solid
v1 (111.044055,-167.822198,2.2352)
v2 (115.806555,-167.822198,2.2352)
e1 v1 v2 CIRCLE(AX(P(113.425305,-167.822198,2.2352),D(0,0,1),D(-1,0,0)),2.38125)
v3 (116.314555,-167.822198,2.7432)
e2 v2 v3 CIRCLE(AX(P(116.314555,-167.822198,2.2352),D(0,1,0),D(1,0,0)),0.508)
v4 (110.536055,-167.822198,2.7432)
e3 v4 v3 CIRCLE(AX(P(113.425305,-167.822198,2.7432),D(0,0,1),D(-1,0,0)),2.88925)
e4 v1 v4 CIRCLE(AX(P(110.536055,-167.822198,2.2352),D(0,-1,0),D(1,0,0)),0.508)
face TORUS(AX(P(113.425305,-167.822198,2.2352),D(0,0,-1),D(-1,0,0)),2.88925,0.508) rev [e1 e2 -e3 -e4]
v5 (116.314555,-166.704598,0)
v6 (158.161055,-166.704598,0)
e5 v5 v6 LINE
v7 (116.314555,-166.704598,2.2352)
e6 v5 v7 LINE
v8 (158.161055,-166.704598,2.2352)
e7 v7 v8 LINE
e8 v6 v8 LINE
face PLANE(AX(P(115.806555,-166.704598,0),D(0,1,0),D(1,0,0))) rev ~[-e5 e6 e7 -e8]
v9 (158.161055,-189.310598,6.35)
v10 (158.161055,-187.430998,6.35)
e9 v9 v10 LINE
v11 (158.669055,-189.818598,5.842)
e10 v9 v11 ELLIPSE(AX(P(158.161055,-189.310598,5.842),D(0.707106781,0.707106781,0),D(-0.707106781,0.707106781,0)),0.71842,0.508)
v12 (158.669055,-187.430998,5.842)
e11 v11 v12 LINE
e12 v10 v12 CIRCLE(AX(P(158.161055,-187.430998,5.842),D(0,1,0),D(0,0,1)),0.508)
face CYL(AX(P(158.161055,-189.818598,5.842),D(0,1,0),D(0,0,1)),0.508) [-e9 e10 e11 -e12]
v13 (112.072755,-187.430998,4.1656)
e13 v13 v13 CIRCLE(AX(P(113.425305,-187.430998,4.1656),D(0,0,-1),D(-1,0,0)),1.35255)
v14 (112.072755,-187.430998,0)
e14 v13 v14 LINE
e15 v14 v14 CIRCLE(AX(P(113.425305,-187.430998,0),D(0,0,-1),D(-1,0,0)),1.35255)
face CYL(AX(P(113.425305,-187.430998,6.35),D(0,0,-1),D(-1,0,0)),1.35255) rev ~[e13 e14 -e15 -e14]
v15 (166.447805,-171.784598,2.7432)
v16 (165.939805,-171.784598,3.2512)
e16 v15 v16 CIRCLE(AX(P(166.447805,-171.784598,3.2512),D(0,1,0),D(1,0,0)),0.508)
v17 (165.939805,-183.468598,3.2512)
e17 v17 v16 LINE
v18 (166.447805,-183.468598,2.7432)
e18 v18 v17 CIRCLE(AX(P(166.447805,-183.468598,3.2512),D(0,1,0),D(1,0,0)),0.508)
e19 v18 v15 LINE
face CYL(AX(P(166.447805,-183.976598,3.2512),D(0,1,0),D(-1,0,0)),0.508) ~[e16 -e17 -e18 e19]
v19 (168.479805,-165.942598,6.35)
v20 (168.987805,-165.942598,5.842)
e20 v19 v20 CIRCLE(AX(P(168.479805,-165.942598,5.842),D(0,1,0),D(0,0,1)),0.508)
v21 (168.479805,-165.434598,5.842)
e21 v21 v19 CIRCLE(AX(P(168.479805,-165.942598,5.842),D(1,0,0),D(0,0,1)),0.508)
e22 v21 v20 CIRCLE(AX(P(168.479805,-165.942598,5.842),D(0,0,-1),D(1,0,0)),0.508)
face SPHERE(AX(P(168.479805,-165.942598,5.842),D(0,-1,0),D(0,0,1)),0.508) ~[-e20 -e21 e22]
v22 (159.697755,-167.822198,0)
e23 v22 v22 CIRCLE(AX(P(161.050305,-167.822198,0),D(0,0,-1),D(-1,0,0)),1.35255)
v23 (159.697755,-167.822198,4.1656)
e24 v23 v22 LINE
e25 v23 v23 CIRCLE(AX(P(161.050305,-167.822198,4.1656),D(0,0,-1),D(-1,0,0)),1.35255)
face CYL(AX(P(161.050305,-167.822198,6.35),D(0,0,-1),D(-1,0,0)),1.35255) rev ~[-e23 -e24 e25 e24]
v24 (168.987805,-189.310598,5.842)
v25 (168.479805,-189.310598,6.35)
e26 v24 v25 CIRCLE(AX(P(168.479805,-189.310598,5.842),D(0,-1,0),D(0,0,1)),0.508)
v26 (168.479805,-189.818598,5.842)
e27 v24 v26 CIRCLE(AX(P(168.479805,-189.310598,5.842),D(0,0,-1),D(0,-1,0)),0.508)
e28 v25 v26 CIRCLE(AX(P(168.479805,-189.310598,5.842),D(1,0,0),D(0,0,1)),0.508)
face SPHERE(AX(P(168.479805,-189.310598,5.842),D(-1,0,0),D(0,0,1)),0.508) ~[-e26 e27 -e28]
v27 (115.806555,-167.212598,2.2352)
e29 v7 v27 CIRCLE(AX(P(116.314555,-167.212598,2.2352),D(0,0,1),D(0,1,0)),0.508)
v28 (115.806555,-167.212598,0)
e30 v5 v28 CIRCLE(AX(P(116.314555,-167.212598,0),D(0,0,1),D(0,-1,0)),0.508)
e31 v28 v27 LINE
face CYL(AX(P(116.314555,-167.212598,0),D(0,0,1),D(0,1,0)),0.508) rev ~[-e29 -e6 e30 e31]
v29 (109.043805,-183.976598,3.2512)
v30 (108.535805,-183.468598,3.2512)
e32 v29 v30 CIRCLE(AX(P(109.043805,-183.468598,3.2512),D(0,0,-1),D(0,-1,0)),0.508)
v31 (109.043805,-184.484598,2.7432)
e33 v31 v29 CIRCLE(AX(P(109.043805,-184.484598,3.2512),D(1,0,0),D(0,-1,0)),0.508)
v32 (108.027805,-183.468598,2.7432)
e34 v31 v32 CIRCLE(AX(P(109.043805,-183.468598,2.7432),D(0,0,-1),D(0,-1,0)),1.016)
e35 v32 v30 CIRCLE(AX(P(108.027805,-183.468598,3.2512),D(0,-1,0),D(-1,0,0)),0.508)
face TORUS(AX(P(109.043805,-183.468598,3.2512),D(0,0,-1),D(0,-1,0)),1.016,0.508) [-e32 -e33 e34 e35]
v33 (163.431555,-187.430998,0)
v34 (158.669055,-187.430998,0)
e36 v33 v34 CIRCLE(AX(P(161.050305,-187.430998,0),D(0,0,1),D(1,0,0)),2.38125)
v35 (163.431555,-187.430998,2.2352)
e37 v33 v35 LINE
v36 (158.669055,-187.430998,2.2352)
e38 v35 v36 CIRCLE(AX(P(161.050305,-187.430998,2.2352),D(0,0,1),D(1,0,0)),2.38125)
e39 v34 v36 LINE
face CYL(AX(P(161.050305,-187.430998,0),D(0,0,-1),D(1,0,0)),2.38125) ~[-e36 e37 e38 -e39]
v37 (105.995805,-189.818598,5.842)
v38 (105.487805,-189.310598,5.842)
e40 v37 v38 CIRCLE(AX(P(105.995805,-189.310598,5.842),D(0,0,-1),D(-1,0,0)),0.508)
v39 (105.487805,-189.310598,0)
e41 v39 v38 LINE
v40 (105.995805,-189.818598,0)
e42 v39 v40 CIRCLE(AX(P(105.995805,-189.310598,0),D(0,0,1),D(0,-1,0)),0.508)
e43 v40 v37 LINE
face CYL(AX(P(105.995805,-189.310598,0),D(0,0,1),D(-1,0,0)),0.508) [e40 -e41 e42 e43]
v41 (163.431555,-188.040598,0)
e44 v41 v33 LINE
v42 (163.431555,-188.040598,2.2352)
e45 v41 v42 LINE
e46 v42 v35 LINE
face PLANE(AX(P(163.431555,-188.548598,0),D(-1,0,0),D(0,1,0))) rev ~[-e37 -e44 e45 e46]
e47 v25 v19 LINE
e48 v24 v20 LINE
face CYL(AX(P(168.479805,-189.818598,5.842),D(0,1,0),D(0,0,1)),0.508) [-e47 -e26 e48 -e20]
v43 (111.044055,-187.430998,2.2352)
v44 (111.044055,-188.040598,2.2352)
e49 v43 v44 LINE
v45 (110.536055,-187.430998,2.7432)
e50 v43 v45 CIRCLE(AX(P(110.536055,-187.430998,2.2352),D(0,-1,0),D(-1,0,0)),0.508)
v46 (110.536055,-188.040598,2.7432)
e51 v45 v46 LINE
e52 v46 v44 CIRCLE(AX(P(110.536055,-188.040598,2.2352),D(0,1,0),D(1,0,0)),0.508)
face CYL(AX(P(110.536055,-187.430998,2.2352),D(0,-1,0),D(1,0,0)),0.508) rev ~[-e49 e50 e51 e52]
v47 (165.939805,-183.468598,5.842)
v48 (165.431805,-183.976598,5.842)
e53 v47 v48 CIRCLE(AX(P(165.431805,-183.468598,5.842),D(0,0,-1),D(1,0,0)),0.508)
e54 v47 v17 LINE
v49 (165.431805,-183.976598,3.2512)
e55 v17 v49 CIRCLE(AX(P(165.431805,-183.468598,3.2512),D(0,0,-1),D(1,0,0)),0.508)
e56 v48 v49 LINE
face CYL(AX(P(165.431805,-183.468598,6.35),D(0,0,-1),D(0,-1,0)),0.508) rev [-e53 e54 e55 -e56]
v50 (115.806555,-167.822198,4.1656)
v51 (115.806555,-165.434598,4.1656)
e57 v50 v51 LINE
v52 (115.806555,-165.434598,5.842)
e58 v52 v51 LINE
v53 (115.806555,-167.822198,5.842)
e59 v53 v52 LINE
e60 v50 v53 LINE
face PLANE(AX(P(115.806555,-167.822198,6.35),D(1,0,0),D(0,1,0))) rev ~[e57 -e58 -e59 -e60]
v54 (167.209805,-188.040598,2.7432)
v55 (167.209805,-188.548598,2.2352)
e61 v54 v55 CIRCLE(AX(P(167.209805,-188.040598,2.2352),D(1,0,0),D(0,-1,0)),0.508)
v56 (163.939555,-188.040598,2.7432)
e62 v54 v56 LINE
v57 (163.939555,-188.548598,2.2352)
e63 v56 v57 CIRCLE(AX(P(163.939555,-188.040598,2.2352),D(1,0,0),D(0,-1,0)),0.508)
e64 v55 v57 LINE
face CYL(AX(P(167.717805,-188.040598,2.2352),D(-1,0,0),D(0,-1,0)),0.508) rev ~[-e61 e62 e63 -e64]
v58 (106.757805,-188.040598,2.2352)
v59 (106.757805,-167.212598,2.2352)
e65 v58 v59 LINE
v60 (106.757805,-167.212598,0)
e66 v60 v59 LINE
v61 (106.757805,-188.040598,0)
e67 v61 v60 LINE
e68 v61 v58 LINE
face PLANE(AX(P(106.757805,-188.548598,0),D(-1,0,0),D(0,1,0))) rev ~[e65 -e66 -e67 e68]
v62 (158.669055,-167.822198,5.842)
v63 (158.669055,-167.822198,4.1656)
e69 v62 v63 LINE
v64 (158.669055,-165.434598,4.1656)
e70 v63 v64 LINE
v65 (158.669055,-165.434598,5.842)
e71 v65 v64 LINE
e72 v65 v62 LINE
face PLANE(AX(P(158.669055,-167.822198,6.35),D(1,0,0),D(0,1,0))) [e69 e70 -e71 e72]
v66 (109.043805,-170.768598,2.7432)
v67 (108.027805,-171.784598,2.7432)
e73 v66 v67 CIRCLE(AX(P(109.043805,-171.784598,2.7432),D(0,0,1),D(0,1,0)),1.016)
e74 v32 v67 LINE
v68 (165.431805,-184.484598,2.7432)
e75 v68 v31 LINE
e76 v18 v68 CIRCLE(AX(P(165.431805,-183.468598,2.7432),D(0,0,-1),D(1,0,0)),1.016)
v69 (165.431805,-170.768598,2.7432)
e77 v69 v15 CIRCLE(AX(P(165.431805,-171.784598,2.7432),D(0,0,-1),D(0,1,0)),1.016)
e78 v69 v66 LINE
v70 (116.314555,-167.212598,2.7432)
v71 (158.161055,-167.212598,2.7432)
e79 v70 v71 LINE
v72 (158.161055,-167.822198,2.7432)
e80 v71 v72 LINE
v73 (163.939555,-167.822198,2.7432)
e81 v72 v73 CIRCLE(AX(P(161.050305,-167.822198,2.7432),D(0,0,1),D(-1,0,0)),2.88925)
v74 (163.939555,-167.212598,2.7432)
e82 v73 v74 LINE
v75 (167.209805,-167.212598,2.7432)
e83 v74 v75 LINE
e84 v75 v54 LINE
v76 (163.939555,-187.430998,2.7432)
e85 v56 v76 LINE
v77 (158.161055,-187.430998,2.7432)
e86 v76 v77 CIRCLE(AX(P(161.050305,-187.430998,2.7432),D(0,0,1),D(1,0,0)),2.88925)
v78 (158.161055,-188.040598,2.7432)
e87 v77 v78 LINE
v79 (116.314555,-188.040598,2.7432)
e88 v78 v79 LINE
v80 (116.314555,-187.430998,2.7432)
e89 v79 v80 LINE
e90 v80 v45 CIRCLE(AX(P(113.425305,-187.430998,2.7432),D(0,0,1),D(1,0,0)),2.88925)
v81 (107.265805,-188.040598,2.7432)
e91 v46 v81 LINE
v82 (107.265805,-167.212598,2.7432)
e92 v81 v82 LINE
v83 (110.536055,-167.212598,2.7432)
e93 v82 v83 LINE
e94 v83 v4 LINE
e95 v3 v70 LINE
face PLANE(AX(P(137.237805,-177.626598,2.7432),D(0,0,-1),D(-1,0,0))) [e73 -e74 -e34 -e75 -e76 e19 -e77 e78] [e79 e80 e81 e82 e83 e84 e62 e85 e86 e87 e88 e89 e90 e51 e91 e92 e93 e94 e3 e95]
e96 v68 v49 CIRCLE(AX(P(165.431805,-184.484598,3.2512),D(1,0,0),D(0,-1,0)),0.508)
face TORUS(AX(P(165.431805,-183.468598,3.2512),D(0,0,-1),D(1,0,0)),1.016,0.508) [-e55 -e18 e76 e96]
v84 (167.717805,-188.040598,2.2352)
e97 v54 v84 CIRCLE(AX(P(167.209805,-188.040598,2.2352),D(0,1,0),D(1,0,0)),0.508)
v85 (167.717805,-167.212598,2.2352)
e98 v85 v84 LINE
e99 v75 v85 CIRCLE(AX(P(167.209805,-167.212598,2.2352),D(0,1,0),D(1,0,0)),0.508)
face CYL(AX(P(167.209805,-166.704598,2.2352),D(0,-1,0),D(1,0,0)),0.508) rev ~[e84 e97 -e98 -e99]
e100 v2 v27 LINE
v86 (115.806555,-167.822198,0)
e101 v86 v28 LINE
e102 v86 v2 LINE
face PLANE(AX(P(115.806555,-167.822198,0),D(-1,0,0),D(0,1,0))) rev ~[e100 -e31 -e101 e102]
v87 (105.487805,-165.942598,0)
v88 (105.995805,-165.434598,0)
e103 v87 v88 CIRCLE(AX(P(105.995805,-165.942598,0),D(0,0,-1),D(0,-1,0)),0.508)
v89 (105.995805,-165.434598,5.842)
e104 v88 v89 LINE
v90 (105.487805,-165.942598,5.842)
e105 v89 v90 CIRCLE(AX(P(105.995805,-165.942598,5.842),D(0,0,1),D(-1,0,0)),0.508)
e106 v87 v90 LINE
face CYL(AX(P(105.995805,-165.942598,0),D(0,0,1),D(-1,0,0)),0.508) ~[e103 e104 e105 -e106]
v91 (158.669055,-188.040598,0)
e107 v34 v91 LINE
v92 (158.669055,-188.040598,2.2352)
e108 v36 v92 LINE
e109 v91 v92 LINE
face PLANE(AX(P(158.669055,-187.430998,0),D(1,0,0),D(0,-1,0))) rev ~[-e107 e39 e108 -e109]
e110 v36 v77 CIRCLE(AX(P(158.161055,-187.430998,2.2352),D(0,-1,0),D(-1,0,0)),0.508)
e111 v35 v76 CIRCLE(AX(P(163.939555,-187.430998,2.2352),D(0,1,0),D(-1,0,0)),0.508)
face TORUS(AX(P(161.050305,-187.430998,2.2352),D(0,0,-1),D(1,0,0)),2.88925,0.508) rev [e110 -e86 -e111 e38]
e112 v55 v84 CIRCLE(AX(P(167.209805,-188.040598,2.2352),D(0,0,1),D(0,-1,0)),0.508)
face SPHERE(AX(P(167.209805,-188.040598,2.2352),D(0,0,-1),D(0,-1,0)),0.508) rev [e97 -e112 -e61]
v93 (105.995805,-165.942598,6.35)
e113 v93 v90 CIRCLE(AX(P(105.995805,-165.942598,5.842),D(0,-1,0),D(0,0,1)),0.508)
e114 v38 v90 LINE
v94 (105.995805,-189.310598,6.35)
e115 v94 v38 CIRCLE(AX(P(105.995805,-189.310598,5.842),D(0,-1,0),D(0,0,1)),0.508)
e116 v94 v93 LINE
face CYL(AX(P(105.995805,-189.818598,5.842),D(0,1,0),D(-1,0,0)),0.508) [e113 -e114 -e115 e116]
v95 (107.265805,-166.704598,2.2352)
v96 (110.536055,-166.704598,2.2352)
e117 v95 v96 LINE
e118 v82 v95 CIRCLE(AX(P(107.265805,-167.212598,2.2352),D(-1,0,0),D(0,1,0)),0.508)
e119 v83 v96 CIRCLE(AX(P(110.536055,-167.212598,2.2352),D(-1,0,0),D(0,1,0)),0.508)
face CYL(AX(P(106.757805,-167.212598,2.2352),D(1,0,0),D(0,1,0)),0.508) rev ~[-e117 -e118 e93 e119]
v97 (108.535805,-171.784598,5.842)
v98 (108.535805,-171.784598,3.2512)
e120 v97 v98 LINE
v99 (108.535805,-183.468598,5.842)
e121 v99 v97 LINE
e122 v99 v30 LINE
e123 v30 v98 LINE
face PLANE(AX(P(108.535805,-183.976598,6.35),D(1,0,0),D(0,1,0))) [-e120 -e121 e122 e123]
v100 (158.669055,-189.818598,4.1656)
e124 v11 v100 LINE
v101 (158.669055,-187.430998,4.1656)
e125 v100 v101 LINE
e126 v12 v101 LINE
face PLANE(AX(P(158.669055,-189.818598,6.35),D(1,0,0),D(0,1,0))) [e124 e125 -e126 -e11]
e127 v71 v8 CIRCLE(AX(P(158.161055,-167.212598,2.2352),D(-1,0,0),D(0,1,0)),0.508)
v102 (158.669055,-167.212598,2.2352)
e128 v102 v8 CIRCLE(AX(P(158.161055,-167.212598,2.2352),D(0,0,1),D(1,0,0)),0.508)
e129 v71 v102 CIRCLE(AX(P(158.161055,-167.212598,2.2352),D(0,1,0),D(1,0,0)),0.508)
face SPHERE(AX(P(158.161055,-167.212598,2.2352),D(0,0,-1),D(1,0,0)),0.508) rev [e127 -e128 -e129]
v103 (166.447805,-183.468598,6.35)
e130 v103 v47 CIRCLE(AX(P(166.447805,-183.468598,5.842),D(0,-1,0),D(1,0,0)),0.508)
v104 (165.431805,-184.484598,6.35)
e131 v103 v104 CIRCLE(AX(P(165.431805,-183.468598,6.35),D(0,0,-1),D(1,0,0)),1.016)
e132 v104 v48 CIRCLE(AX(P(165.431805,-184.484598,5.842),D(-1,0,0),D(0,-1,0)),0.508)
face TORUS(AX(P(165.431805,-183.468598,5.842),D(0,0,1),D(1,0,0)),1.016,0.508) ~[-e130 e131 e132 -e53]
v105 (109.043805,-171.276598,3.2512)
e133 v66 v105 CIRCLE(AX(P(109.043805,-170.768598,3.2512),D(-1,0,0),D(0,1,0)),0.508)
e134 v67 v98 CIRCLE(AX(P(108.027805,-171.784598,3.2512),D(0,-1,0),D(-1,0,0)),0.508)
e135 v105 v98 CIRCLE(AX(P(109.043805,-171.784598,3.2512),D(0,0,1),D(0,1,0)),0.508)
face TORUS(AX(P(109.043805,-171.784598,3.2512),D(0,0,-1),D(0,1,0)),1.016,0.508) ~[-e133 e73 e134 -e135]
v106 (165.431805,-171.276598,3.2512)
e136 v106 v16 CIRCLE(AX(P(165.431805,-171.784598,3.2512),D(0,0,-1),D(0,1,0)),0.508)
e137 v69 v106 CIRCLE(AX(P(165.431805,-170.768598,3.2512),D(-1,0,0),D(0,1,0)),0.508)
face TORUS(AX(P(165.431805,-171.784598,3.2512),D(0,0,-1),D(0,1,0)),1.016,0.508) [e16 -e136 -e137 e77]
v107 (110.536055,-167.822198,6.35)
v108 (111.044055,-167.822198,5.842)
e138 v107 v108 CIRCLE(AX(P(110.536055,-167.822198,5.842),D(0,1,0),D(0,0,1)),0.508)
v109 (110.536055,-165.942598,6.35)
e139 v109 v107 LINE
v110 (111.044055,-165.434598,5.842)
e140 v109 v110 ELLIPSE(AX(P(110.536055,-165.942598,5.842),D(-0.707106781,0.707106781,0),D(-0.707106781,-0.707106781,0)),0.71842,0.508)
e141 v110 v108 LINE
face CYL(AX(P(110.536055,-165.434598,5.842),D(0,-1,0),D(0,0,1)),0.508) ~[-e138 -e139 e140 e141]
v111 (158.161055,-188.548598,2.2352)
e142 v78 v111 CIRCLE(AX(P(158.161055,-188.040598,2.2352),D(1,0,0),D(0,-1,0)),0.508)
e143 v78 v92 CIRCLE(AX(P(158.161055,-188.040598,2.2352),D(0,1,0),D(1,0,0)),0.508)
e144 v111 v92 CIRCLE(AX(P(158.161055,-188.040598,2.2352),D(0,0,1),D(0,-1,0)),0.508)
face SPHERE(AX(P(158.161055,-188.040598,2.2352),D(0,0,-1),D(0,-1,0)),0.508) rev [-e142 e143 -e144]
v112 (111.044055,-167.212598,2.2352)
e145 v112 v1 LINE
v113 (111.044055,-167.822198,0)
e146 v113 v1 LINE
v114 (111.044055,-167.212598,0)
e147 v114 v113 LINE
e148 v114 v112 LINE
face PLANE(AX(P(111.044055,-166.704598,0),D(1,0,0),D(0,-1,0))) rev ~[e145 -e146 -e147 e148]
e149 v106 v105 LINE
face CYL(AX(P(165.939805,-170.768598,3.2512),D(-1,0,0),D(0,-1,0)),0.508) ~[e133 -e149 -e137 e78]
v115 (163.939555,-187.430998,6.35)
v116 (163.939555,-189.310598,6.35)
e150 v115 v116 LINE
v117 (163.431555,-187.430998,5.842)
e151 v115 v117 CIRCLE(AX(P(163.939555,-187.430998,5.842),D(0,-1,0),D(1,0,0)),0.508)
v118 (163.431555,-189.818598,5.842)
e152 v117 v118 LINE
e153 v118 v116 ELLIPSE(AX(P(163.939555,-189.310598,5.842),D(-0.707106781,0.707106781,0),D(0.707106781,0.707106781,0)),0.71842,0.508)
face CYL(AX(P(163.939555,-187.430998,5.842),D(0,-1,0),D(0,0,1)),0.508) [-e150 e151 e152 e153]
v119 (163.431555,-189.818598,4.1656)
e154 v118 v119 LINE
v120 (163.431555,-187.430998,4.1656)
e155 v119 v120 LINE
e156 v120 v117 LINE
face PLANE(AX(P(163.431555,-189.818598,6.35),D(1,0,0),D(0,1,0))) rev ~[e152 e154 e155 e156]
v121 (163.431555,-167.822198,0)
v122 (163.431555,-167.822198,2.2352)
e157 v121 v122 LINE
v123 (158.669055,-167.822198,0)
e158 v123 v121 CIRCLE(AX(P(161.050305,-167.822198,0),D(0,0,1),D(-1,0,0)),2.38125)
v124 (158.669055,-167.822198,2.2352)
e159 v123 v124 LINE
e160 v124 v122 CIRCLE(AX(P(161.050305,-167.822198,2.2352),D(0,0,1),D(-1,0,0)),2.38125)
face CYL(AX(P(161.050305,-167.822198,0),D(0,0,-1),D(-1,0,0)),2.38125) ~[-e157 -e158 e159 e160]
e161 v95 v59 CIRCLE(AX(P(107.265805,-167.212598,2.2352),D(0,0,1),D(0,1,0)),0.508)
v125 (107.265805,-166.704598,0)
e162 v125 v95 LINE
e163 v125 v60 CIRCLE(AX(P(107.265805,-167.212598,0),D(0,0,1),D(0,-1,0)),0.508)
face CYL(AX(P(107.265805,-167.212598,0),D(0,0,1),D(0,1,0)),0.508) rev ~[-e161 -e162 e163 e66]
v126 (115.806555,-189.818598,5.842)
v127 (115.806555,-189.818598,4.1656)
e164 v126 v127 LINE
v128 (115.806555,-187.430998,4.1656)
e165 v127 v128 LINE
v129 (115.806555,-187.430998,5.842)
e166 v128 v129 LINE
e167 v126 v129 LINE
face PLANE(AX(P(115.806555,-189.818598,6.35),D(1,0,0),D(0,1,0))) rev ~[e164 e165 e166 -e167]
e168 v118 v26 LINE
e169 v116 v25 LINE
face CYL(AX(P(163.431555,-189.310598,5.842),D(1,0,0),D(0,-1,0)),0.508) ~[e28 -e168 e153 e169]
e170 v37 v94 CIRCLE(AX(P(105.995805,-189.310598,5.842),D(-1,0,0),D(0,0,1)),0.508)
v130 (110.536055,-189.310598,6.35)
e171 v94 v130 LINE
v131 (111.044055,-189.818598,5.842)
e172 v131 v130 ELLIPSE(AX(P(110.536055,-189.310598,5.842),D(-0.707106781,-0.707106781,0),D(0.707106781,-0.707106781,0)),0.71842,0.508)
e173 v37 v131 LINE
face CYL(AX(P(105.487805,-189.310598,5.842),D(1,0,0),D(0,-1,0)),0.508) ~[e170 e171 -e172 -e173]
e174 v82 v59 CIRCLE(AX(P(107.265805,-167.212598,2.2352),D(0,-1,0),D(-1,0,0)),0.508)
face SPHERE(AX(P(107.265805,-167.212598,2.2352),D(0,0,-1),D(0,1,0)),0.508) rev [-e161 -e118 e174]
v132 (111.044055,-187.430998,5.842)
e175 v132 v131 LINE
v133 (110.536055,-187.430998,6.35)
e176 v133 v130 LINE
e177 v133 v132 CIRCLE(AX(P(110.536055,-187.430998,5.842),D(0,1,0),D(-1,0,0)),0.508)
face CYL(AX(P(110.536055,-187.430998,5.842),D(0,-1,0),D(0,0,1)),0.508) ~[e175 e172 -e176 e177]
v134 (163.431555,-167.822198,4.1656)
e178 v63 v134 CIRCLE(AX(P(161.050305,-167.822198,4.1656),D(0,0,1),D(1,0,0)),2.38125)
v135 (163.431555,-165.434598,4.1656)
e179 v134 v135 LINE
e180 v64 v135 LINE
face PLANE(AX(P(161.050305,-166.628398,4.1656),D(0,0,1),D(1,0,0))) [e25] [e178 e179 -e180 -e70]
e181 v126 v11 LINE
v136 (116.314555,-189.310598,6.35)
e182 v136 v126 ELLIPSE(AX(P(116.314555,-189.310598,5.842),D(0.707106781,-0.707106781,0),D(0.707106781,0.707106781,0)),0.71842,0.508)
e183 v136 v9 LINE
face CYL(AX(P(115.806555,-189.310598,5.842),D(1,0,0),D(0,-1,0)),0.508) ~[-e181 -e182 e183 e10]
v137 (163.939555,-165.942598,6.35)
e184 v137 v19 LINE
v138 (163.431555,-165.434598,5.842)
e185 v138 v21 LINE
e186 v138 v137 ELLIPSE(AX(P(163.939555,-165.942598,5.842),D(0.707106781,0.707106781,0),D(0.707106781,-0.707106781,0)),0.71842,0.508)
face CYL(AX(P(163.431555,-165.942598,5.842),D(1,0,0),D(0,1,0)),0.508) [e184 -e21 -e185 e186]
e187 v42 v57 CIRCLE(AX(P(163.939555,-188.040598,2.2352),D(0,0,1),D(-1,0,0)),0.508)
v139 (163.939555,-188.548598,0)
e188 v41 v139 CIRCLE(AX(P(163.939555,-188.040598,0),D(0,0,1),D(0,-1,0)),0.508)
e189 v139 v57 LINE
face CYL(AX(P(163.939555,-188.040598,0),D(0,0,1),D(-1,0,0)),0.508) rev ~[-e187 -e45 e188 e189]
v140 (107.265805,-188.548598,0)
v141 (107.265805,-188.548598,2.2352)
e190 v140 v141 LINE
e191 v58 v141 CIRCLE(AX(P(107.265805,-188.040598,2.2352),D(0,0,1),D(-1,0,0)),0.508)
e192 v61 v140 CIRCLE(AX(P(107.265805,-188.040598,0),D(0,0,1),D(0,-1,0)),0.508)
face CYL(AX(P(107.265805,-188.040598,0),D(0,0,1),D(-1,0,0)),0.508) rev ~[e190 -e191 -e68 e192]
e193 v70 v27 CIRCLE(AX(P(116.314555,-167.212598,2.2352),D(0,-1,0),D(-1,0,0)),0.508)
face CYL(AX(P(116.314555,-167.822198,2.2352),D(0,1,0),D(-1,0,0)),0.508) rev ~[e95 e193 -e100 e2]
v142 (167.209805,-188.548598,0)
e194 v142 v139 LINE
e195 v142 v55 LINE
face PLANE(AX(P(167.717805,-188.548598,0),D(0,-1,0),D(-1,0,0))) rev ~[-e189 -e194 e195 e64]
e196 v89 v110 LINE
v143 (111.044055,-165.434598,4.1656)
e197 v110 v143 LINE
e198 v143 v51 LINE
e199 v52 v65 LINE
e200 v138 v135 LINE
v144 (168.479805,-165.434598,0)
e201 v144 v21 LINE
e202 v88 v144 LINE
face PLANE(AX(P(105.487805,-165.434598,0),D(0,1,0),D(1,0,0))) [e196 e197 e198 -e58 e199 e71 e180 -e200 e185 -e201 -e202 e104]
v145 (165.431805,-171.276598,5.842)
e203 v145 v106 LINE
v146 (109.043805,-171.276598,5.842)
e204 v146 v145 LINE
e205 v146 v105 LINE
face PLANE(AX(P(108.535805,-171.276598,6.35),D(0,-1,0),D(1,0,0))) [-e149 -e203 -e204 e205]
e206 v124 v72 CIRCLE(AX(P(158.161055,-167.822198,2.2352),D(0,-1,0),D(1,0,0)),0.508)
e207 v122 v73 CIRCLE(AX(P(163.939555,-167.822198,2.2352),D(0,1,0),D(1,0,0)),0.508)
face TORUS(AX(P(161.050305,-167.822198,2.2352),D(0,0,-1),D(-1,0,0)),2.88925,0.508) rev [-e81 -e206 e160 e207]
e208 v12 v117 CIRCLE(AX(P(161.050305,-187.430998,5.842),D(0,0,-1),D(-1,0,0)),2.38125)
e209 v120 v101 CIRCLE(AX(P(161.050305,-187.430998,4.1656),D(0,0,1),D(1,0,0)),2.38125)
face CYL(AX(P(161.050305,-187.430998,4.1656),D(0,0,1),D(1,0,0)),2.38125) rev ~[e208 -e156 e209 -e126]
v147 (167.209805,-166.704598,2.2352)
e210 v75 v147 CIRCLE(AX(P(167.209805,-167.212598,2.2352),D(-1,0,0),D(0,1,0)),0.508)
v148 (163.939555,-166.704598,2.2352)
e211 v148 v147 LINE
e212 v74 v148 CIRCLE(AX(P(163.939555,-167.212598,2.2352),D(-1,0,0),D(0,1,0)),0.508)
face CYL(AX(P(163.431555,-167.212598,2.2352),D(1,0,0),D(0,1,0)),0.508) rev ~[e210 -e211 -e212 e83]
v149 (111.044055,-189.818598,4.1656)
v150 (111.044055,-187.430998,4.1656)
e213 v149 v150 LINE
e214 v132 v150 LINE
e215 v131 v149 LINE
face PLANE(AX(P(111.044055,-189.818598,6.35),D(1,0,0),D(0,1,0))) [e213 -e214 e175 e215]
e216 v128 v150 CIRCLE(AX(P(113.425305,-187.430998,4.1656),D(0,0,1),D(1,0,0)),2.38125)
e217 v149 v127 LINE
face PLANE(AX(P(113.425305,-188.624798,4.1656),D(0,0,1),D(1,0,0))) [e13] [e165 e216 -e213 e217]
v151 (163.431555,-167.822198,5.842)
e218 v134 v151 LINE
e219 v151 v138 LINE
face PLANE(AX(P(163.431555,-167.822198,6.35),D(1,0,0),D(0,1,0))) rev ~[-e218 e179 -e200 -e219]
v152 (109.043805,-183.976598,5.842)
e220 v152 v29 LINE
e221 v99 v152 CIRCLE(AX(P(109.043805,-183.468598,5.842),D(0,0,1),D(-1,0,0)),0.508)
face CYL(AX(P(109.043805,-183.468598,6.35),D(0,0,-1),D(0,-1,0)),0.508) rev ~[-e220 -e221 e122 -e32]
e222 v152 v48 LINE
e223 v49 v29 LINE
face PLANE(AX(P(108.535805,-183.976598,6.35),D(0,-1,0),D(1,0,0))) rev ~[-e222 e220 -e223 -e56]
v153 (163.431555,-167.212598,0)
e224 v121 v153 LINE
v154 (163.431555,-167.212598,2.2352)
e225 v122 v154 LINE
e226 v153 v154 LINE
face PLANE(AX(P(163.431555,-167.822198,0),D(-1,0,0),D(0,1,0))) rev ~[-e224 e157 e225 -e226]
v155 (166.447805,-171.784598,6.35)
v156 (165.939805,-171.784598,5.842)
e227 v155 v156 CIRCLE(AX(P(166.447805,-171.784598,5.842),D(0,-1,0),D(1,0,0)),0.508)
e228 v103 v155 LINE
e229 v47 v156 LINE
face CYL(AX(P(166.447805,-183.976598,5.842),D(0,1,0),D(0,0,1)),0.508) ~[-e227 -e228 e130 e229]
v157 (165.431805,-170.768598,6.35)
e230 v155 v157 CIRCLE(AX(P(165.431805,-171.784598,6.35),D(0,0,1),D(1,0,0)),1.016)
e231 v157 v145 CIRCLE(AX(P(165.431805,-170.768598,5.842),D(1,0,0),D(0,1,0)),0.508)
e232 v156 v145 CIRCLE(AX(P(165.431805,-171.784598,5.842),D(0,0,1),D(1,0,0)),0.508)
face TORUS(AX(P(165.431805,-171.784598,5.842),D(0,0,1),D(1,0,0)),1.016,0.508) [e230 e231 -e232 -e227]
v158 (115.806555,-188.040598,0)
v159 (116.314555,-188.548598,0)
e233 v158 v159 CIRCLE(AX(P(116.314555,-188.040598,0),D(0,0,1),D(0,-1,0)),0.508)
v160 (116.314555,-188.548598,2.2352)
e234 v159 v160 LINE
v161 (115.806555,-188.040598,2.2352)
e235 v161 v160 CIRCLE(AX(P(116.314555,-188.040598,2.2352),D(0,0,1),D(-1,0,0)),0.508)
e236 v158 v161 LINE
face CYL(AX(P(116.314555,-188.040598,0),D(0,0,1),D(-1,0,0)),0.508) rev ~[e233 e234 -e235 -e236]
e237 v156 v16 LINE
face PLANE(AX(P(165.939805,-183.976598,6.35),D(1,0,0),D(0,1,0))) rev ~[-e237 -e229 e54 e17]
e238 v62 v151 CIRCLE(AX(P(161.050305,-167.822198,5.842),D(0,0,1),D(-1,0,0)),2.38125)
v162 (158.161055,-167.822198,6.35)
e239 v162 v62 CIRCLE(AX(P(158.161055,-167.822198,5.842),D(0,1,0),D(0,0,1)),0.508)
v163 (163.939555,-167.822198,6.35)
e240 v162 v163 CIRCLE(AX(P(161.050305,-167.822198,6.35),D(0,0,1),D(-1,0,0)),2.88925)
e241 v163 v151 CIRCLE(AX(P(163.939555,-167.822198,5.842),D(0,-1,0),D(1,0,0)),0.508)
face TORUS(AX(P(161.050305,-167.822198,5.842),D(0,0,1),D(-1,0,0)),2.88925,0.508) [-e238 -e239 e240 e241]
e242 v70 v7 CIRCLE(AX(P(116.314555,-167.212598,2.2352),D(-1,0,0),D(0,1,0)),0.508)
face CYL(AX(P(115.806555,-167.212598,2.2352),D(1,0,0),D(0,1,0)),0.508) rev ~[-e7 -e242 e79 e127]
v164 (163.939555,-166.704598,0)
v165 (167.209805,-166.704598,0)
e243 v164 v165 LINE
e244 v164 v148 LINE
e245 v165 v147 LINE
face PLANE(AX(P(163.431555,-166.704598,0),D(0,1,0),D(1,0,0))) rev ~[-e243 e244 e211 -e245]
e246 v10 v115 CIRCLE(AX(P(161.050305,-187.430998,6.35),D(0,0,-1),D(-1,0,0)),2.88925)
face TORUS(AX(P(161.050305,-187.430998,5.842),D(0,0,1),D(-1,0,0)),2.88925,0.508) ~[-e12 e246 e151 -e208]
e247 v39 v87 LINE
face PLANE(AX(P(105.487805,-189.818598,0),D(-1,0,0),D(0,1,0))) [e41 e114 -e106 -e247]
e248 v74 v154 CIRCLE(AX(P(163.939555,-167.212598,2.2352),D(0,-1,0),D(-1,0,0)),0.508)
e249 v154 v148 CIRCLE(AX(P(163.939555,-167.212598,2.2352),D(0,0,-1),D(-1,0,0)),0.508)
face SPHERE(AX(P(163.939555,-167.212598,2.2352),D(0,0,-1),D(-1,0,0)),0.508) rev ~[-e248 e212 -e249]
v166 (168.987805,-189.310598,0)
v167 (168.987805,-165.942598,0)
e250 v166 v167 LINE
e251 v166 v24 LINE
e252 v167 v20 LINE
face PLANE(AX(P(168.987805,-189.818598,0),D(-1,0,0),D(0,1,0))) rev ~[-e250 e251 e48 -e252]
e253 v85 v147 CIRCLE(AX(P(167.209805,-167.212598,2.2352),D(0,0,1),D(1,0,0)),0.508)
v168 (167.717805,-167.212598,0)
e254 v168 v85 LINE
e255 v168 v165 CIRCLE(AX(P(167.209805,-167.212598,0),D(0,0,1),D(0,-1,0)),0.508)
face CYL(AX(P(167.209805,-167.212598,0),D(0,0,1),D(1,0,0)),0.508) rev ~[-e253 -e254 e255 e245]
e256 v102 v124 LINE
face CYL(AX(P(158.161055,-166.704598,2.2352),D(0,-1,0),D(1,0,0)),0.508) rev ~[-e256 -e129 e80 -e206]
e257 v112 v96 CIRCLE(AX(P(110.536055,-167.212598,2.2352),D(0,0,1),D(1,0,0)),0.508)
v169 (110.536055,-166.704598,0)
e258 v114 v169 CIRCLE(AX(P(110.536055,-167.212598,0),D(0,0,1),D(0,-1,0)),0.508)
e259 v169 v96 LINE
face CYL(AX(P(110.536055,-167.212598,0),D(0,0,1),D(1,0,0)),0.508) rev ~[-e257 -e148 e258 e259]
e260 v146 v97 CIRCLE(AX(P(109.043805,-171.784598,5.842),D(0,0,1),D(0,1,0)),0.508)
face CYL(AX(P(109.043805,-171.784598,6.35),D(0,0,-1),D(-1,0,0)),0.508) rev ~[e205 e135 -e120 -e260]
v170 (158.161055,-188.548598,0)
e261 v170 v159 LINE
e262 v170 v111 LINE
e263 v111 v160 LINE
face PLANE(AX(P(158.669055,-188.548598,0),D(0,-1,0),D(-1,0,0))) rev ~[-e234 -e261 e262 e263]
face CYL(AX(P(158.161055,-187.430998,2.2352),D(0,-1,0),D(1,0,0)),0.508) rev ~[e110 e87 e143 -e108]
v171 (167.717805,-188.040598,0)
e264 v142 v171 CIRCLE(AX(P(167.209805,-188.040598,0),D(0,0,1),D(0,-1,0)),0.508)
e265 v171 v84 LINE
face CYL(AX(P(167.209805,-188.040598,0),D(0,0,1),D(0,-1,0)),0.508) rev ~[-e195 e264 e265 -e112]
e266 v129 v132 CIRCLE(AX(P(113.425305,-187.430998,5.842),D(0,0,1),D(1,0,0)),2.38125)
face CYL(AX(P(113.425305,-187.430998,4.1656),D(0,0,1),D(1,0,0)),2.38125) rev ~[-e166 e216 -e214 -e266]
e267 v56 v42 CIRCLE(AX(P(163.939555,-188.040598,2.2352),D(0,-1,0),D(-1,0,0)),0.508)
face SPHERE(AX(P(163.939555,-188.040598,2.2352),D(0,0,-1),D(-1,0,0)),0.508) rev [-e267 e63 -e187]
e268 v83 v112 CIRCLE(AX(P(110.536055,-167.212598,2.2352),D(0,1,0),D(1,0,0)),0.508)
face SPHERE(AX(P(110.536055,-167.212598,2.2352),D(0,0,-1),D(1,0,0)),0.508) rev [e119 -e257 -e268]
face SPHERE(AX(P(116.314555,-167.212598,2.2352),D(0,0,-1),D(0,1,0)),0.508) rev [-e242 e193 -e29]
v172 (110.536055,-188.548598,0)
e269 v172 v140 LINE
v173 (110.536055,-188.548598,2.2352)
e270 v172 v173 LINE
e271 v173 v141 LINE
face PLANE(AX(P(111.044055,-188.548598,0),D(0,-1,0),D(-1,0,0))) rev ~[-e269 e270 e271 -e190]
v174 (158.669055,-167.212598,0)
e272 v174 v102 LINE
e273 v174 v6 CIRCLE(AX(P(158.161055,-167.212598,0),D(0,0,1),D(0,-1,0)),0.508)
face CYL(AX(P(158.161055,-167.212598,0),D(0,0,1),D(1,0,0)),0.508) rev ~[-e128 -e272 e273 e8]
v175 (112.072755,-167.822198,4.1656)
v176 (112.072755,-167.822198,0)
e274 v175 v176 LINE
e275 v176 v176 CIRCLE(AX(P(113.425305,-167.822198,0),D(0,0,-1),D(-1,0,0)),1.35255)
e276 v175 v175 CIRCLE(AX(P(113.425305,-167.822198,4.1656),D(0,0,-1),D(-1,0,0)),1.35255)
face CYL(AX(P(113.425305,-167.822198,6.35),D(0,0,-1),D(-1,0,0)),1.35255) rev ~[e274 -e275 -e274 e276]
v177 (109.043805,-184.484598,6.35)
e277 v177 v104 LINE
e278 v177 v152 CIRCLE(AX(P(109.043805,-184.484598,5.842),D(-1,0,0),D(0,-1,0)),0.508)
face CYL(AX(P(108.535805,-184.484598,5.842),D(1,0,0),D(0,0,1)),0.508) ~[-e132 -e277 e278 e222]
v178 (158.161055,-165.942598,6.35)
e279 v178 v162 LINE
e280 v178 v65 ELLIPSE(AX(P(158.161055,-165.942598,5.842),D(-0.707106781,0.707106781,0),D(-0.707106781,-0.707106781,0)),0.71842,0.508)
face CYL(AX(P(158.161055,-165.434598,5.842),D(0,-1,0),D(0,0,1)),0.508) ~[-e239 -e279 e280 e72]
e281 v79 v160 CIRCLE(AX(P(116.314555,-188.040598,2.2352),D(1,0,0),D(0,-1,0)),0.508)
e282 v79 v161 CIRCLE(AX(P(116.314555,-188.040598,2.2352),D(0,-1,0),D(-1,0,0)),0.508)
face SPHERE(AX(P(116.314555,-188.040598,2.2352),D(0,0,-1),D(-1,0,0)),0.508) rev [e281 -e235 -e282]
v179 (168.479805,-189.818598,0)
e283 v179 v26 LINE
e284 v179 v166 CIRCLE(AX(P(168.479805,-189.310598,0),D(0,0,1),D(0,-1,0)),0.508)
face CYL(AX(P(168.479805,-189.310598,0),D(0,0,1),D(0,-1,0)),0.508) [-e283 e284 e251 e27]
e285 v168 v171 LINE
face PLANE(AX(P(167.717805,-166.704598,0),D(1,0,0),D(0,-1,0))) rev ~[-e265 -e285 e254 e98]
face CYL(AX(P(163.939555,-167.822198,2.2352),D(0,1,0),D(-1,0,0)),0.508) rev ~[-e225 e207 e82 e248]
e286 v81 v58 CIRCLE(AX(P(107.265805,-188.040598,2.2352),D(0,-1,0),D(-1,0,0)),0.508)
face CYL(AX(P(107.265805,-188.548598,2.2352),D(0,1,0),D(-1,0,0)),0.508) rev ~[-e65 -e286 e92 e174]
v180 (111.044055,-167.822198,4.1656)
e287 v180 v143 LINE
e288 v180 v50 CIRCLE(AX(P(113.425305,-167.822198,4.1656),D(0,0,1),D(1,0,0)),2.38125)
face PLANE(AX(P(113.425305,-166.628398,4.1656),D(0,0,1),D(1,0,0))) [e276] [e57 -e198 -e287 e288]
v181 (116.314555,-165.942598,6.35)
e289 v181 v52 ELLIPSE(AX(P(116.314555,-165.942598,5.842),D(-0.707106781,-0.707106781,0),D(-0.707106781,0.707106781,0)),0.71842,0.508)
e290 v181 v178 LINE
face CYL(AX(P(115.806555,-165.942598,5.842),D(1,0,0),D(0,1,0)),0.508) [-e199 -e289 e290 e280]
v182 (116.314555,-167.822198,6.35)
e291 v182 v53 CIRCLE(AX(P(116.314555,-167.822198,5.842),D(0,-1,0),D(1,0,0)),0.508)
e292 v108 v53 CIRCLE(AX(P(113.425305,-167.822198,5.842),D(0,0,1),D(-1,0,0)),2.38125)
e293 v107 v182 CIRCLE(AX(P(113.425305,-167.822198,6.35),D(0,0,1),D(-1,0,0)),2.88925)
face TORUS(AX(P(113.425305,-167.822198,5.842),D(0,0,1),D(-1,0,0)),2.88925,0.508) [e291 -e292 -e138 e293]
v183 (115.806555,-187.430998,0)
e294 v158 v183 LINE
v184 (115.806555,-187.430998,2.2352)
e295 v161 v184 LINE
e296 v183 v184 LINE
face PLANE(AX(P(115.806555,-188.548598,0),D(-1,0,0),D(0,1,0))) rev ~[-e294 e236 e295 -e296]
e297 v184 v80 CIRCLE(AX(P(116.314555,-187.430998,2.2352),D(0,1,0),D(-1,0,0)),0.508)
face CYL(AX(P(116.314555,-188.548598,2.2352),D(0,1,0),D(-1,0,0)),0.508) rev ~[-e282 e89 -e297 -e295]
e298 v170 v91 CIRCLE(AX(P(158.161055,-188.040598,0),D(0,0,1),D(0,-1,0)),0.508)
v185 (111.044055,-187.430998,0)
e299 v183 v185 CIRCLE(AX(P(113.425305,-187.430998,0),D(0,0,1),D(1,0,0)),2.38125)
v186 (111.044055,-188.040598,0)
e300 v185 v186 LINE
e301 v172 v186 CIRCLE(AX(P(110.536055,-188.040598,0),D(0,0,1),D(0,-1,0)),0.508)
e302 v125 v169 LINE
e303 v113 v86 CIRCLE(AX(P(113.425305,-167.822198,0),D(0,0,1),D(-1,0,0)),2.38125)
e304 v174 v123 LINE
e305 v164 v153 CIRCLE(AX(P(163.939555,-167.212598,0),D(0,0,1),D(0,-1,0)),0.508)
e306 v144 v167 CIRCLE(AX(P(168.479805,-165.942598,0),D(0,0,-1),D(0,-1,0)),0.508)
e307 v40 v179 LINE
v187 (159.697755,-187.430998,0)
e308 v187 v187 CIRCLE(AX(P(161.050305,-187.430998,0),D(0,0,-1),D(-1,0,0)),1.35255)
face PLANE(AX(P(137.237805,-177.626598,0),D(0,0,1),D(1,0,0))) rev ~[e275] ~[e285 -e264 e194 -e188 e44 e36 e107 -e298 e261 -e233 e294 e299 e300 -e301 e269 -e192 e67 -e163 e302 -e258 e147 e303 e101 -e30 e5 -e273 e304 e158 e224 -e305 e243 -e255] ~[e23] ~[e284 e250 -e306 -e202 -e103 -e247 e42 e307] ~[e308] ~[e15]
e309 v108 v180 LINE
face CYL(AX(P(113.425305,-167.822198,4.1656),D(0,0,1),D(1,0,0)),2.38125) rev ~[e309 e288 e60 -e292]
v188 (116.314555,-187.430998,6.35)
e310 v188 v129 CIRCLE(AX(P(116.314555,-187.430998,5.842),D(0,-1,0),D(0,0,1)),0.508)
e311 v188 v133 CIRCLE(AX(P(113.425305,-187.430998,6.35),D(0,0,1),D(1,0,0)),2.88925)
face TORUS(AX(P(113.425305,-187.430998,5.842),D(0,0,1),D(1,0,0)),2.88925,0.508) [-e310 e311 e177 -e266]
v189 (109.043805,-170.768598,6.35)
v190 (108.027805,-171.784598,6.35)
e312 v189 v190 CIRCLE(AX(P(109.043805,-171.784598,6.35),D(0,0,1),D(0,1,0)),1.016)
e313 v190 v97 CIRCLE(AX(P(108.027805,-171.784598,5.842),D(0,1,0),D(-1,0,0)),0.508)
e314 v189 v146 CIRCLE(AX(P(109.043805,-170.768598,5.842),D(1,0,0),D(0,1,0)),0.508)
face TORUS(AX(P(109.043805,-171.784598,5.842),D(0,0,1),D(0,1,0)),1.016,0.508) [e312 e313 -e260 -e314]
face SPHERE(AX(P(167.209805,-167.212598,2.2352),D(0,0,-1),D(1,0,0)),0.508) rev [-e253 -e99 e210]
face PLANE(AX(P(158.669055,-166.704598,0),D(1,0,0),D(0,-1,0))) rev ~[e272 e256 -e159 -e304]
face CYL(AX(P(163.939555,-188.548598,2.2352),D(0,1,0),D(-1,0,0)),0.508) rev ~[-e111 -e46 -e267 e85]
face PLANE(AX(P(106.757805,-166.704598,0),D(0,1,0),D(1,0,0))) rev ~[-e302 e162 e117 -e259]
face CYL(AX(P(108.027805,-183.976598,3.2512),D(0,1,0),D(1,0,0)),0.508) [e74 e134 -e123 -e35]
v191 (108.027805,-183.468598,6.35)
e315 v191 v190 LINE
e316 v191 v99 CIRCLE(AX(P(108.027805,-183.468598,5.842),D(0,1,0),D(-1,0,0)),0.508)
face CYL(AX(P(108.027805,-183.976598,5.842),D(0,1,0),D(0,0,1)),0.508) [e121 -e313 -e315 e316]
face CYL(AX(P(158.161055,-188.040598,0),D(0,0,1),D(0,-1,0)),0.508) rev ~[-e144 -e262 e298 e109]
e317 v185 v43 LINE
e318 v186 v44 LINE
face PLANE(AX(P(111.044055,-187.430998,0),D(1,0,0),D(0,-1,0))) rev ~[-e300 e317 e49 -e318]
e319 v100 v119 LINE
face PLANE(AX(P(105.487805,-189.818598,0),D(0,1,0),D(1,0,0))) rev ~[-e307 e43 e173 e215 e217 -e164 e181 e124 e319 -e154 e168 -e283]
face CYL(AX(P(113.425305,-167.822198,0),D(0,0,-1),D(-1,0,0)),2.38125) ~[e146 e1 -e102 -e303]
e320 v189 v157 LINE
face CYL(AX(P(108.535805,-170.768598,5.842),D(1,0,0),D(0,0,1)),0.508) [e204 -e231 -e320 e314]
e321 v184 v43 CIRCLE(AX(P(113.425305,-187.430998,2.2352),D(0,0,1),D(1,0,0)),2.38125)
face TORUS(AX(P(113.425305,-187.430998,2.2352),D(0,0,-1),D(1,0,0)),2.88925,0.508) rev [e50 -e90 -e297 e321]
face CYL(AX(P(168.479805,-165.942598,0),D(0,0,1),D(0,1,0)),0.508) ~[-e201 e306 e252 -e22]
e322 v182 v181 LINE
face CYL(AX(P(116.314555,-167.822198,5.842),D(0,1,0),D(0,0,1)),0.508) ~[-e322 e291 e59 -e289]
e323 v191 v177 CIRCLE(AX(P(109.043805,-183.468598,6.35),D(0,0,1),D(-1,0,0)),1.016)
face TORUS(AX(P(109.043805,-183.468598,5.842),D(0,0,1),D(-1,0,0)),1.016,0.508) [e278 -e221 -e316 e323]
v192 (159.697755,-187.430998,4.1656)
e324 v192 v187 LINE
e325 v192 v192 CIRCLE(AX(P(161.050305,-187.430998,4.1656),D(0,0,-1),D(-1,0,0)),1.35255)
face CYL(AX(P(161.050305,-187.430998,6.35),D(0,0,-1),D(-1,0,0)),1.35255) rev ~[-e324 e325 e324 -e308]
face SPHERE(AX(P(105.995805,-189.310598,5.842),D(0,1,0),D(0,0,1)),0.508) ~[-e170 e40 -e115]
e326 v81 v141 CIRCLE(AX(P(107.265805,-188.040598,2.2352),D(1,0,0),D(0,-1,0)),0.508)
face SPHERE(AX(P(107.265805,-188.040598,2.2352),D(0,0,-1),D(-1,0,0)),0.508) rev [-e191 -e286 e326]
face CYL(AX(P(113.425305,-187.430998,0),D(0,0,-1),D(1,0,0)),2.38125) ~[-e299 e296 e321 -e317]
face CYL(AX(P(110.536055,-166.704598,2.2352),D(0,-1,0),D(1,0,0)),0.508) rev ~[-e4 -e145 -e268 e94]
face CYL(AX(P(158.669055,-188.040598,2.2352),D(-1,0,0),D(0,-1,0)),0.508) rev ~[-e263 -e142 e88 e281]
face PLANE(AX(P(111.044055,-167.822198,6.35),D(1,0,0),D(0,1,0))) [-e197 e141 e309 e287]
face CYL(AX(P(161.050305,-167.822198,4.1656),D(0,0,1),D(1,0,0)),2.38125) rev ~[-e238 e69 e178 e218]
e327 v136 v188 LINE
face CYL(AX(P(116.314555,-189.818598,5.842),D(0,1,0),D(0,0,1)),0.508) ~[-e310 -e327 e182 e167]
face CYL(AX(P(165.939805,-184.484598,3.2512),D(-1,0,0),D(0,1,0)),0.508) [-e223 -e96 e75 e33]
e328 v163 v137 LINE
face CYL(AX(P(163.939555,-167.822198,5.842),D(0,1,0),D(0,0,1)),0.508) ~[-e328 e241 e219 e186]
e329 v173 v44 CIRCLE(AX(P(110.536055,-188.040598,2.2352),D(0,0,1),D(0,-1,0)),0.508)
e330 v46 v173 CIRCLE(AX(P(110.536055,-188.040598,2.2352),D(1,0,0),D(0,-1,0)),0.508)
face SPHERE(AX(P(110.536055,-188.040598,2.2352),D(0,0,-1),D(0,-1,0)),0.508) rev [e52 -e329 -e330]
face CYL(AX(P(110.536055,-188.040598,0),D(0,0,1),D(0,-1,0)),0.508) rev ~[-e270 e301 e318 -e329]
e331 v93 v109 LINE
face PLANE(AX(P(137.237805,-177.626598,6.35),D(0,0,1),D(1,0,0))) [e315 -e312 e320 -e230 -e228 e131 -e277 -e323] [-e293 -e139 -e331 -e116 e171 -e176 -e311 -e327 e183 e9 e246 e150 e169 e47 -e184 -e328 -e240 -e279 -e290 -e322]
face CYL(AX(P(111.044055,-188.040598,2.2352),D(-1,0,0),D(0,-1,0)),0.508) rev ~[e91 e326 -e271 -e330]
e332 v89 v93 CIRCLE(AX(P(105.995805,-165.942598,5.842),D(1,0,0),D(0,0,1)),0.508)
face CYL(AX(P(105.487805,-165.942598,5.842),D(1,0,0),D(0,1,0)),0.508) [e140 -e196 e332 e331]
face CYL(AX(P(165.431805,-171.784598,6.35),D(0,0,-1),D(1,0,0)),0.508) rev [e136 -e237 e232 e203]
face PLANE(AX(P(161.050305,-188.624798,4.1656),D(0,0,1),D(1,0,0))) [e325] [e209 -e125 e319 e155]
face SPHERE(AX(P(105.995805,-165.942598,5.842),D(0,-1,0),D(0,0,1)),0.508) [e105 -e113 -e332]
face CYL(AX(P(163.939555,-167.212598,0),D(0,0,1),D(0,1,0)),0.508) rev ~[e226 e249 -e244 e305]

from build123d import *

# Parameters (mm, degrees)
SKETCH1_W                                      = 63.5
SKETCH1_H                                      = 24.384
BOSS_EXTRUDE1_DEPTH                            = 6.35
CBORE_FOR_2_SOCKET_HEAD_CAP_SCREW1_D           = 2.7051
CBORE_FOR_2_SOCKET_HEAD_CAP_SCREW1_CBORE_D     = 4.7625
CBORE_FOR_2_SOCKET_HEAD_CAP_SCREW1_CBORE_DEPTH = 2.1844
SKETCH4_W                                      = 57.404
SKETCH4_H                                      = 12.7
CUT_EXTRUDE1_DEPTH                             = 7.35
SKETCH5_W                                      = 4.7625
SKETCH5_H                                      = 2.3876
CUT_EXTRUDE2_DEPTH                             = 2.1844
SKETCH7_W                                      = 57.404
SKETCH7_H                                      = 12.7
CUT_EXTRUDE3_DEPTH                             = 2.7432
FILLET1_R                                      = 0.508


with BuildPart() as part:
    # Sketch1 → Boss-Extrude1 (new body)
    with BuildSketch(Plane.XY):
        with Locations((137.237805359, -177.626597764)):
            Rectangle(SKETCH1_W, SKETCH1_H)
    extrude(amount=BOSS_EXTRUDE1_DEPTH)

    # CBORE for #2 Socket Head Cap Screw1 (through all)
    with Locations(Plane.XY.offset(6.35)):
        with Locations((161.050305359, -187.430997764), (113.425305359, -187.430997764), (161.050305359, -167.822197764), (113.425305359, -167.822197764)):
            CounterBoreHole(CBORE_FOR_2_SOCKET_HEAD_CAP_SCREW1_D / 2, CBORE_FOR_2_SOCKET_HEAD_CAP_SCREW1_CBORE_D / 2, CBORE_FOR_2_SOCKET_HEAD_CAP_SCREW1_CBORE_DEPTH)

    # Sketch4 → Cut-Extrude1 (cut, through all)
    with BuildSketch(Plane.XY.offset(6.35)):
        with Locations((137.237805359, -177.626597764)):
            Rectangle(SKETCH4_W, SKETCH4_H)
    extrude(amount=-CUT_EXTRUDE1_DEPTH, mode=Mode.SUBTRACT)

    # Sketch5 → Cut-Extrude2 (cut)
    with BuildSketch(Plane.XY.offset(6.35)):
        with Locations((113.425305359, -166.628397764)):
            Rectangle(SKETCH5_W, SKETCH5_H)
        with Locations((161.050305359, -166.628397764)):
            Rectangle(SKETCH5_W, SKETCH5_H)
        with Locations((113.425305359, -188.624797764)):
            Rectangle(SKETCH5_W, SKETCH5_H)
        with Locations((161.050305359, -188.624797764)):
            Rectangle(SKETCH5_W, SKETCH5_H)
    extrude(amount=-CUT_EXTRUDE2_DEPTH, mode=Mode.SUBTRACT)

    # Sketch7 → Cut-Extrude3 (cut)
    with BuildSketch(Plane(origin=(0, 0, 0), x_dir=(-1, 0, 0), z_dir=(0, 0, -1))):
        with BuildLine():
            Line((-163.431555359, -167.822197764), (-163.431555359, -166.704597764))
            Line((-163.431555359, -166.704597764), (-167.717805359, -166.704597764))
            Line((-167.717805359, -166.704597764), (-167.717805359, -188.548597764))
            Line((-167.717805359, -188.548597764), (-163.431555359, -188.548597764))
            Line((-163.431555359, -188.548597764), (-163.431555359, -187.430997764))
            ThreePointArc((-163.431555359, -187.430997764), (-161.050305359, -185.049747764), (-158.669055359, -187.430997764))
            Line((-158.669055359, -187.430997764), (-158.669055359, -188.548597764))
            Line((-158.669055359, -188.548597764), (-115.806555359, -188.548597764))
            Line((-115.806555359, -188.548597764), (-115.806555359, -187.430997764))
            ThreePointArc((-115.806555359, -187.430997764), (-113.425305359, -185.049747764), (-111.044055359, -187.430997764))
            Line((-111.044055359, -187.430997764), (-111.044055359, -188.548597764))
            Line((-111.044055359, -188.548597764), (-106.757805359, -188.548597764))
            Line((-106.757805359, -188.548597764), (-106.757805359, -166.704597764))
            Line((-106.757805359, -166.704597764), (-111.044055359, -166.704597764))
            Line((-111.044055359, -166.704597764), (-111.044055359, -167.822197764))
            ThreePointArc((-111.044055359, -167.822197764), (-113.425305359, -170.203447764), (-115.806555359, -167.822197764))
            Line((-115.806555359, -167.822197764), (-115.806555359, -166.704597764))
            Line((-115.806555359, -166.704597764), (-158.669055359, -166.704597764))
            Line((-158.669055359, -166.704597764), (-158.669055359, -167.822197764))
            ThreePointArc((-158.669055359, -167.822197764), (-161.050305359, -170.203447764), (-163.431555359, -167.822197764))
        make_face()
        with Locations((-137.237805359, -177.626597764)):
            Rectangle(SKETCH7_W, SKETCH7_H, mode=Mode.SUBTRACT)
    extrude(amount=-CUT_EXTRUDE3_DEPTH, mode=Mode.SUBTRACT)

    # Fillet1
    fillet1_edges = [part.edges().sort_by_distance(p)[0] for p in [
        (105.487805359, -177.626597764, 6.35),
        (166.209680359, -189.818597764, 6.35),
        (158.669055359, -188.624797764, 6.35),
        (163.431555359, -188.624797764, 6.35),
        (108.265930359, -189.818597764, 6.35),
        (108.535805359, -171.276597764, 4.5466),
        (165.939805359, -171.276597764, 4.5466),
        (108.535805359, -183.976597764, 4.5466),
        (165.939805359, -183.976597764, 4.5466),
        (163.431555359, -166.704597764, 1.3716),
        (167.717805359, -166.704597764, 1.3716),
        (167.717805359, -188.548597764, 1.3716),
        (163.431555359, -188.548597764, 1.3716),
        (158.669055359, -188.548597764, 1.3716),
        (115.806555359, -188.548597764, 1.3716),
        (111.044055359, -188.548597764, 1.3716),
        (106.757805359, -188.548597764, 1.3716),
        (106.757805359, -166.704597764, 1.3716),
        (111.044055359, -166.704597764, 1.3716),
        (115.806555359, -166.704597764, 1.3716),
        (158.669055359, -166.704597764, 1.3716),
        (137.237805359, -171.276597764, 2.7432),
        (165.939805359, -177.626597764, 2.7432),
        (137.237805359, -183.976597764, 2.7432),
        (108.535805359, -177.626597764, 2.7432),
        (161.050305359, -170.203447764, 2.7432),
        (158.669055359, -167.263397764, 2.7432),
        (137.237805359, -166.704597764, 2.7432),
        (115.806555359, -167.263397764, 2.7432),
        (113.425305359, -170.203447764, 2.7432),
        (111.044055359, -167.263397764, 2.7432),
        (108.900930359, -166.704597764, 2.7432),
        (106.757805359, -177.626597764, 2.7432),
        (108.900930359, -188.548597764, 2.7432),
        (111.044055359, -187.989797764, 2.7432),
        (113.425305359, -185.049747764, 2.7432),
        (115.806555359, -187.989797764, 2.7432),
        (137.237805359, -188.548597764, 2.7432),
        (158.669055359, -187.989797764, 2.7432),
        (161.050305359, -185.049747764, 2.7432),
        (163.431555359, -187.989797764, 2.7432),
        (165.574680359, -188.548597764, 2.7432),
        (167.717805359, -177.626597764, 2.7432),
        (165.574680359, -166.704597764, 2.7432),
        (163.431555359, -167.263397764, 2.7432),
        (113.425305359, -185.049747764, 6.35),
        (161.050305359, -185.049747764, 6.35),
        (168.987805359, -177.626597764, 6.35),
        (165.939805359, -177.626597764, 6.35),
        (137.237805359, -171.276597764, 6.35),
        (108.535805359, -177.626597764, 6.35),
        (137.237805359, -183.976597764, 6.35),
        (113.425305359, -170.203447764, 6.35),
        (108.265930359, -165.434597764, 6.35),
        (115.806555359, -166.628397764, 6.35),
        (111.044055359, -166.628397764, 6.35),
        (166.209680359, -165.434597764, 6.35),
        (168.987805359, -189.818597764, 3.175),
        (105.487805359, -189.818597764, 3.175),
        (161.050305359, -170.203447764, 6.35),
        (105.487805359, -165.434597764, 3.175),
        (168.987805359, -165.434597764, 3.175),
        (137.237805359, -165.434597764, 6.35),
        (163.431555359, -166.628397764, 6.35),
        (158.669055359, -166.628397764, 6.35),
        (137.237805359, -189.818597764, 6.35),
        (115.806555359, -188.624797764, 6.35),
        (111.044055359, -188.624797764, 6.35),
    ]]
    fillet(fillet1_edges, radius=FILLET1_R)


solid = part.part
